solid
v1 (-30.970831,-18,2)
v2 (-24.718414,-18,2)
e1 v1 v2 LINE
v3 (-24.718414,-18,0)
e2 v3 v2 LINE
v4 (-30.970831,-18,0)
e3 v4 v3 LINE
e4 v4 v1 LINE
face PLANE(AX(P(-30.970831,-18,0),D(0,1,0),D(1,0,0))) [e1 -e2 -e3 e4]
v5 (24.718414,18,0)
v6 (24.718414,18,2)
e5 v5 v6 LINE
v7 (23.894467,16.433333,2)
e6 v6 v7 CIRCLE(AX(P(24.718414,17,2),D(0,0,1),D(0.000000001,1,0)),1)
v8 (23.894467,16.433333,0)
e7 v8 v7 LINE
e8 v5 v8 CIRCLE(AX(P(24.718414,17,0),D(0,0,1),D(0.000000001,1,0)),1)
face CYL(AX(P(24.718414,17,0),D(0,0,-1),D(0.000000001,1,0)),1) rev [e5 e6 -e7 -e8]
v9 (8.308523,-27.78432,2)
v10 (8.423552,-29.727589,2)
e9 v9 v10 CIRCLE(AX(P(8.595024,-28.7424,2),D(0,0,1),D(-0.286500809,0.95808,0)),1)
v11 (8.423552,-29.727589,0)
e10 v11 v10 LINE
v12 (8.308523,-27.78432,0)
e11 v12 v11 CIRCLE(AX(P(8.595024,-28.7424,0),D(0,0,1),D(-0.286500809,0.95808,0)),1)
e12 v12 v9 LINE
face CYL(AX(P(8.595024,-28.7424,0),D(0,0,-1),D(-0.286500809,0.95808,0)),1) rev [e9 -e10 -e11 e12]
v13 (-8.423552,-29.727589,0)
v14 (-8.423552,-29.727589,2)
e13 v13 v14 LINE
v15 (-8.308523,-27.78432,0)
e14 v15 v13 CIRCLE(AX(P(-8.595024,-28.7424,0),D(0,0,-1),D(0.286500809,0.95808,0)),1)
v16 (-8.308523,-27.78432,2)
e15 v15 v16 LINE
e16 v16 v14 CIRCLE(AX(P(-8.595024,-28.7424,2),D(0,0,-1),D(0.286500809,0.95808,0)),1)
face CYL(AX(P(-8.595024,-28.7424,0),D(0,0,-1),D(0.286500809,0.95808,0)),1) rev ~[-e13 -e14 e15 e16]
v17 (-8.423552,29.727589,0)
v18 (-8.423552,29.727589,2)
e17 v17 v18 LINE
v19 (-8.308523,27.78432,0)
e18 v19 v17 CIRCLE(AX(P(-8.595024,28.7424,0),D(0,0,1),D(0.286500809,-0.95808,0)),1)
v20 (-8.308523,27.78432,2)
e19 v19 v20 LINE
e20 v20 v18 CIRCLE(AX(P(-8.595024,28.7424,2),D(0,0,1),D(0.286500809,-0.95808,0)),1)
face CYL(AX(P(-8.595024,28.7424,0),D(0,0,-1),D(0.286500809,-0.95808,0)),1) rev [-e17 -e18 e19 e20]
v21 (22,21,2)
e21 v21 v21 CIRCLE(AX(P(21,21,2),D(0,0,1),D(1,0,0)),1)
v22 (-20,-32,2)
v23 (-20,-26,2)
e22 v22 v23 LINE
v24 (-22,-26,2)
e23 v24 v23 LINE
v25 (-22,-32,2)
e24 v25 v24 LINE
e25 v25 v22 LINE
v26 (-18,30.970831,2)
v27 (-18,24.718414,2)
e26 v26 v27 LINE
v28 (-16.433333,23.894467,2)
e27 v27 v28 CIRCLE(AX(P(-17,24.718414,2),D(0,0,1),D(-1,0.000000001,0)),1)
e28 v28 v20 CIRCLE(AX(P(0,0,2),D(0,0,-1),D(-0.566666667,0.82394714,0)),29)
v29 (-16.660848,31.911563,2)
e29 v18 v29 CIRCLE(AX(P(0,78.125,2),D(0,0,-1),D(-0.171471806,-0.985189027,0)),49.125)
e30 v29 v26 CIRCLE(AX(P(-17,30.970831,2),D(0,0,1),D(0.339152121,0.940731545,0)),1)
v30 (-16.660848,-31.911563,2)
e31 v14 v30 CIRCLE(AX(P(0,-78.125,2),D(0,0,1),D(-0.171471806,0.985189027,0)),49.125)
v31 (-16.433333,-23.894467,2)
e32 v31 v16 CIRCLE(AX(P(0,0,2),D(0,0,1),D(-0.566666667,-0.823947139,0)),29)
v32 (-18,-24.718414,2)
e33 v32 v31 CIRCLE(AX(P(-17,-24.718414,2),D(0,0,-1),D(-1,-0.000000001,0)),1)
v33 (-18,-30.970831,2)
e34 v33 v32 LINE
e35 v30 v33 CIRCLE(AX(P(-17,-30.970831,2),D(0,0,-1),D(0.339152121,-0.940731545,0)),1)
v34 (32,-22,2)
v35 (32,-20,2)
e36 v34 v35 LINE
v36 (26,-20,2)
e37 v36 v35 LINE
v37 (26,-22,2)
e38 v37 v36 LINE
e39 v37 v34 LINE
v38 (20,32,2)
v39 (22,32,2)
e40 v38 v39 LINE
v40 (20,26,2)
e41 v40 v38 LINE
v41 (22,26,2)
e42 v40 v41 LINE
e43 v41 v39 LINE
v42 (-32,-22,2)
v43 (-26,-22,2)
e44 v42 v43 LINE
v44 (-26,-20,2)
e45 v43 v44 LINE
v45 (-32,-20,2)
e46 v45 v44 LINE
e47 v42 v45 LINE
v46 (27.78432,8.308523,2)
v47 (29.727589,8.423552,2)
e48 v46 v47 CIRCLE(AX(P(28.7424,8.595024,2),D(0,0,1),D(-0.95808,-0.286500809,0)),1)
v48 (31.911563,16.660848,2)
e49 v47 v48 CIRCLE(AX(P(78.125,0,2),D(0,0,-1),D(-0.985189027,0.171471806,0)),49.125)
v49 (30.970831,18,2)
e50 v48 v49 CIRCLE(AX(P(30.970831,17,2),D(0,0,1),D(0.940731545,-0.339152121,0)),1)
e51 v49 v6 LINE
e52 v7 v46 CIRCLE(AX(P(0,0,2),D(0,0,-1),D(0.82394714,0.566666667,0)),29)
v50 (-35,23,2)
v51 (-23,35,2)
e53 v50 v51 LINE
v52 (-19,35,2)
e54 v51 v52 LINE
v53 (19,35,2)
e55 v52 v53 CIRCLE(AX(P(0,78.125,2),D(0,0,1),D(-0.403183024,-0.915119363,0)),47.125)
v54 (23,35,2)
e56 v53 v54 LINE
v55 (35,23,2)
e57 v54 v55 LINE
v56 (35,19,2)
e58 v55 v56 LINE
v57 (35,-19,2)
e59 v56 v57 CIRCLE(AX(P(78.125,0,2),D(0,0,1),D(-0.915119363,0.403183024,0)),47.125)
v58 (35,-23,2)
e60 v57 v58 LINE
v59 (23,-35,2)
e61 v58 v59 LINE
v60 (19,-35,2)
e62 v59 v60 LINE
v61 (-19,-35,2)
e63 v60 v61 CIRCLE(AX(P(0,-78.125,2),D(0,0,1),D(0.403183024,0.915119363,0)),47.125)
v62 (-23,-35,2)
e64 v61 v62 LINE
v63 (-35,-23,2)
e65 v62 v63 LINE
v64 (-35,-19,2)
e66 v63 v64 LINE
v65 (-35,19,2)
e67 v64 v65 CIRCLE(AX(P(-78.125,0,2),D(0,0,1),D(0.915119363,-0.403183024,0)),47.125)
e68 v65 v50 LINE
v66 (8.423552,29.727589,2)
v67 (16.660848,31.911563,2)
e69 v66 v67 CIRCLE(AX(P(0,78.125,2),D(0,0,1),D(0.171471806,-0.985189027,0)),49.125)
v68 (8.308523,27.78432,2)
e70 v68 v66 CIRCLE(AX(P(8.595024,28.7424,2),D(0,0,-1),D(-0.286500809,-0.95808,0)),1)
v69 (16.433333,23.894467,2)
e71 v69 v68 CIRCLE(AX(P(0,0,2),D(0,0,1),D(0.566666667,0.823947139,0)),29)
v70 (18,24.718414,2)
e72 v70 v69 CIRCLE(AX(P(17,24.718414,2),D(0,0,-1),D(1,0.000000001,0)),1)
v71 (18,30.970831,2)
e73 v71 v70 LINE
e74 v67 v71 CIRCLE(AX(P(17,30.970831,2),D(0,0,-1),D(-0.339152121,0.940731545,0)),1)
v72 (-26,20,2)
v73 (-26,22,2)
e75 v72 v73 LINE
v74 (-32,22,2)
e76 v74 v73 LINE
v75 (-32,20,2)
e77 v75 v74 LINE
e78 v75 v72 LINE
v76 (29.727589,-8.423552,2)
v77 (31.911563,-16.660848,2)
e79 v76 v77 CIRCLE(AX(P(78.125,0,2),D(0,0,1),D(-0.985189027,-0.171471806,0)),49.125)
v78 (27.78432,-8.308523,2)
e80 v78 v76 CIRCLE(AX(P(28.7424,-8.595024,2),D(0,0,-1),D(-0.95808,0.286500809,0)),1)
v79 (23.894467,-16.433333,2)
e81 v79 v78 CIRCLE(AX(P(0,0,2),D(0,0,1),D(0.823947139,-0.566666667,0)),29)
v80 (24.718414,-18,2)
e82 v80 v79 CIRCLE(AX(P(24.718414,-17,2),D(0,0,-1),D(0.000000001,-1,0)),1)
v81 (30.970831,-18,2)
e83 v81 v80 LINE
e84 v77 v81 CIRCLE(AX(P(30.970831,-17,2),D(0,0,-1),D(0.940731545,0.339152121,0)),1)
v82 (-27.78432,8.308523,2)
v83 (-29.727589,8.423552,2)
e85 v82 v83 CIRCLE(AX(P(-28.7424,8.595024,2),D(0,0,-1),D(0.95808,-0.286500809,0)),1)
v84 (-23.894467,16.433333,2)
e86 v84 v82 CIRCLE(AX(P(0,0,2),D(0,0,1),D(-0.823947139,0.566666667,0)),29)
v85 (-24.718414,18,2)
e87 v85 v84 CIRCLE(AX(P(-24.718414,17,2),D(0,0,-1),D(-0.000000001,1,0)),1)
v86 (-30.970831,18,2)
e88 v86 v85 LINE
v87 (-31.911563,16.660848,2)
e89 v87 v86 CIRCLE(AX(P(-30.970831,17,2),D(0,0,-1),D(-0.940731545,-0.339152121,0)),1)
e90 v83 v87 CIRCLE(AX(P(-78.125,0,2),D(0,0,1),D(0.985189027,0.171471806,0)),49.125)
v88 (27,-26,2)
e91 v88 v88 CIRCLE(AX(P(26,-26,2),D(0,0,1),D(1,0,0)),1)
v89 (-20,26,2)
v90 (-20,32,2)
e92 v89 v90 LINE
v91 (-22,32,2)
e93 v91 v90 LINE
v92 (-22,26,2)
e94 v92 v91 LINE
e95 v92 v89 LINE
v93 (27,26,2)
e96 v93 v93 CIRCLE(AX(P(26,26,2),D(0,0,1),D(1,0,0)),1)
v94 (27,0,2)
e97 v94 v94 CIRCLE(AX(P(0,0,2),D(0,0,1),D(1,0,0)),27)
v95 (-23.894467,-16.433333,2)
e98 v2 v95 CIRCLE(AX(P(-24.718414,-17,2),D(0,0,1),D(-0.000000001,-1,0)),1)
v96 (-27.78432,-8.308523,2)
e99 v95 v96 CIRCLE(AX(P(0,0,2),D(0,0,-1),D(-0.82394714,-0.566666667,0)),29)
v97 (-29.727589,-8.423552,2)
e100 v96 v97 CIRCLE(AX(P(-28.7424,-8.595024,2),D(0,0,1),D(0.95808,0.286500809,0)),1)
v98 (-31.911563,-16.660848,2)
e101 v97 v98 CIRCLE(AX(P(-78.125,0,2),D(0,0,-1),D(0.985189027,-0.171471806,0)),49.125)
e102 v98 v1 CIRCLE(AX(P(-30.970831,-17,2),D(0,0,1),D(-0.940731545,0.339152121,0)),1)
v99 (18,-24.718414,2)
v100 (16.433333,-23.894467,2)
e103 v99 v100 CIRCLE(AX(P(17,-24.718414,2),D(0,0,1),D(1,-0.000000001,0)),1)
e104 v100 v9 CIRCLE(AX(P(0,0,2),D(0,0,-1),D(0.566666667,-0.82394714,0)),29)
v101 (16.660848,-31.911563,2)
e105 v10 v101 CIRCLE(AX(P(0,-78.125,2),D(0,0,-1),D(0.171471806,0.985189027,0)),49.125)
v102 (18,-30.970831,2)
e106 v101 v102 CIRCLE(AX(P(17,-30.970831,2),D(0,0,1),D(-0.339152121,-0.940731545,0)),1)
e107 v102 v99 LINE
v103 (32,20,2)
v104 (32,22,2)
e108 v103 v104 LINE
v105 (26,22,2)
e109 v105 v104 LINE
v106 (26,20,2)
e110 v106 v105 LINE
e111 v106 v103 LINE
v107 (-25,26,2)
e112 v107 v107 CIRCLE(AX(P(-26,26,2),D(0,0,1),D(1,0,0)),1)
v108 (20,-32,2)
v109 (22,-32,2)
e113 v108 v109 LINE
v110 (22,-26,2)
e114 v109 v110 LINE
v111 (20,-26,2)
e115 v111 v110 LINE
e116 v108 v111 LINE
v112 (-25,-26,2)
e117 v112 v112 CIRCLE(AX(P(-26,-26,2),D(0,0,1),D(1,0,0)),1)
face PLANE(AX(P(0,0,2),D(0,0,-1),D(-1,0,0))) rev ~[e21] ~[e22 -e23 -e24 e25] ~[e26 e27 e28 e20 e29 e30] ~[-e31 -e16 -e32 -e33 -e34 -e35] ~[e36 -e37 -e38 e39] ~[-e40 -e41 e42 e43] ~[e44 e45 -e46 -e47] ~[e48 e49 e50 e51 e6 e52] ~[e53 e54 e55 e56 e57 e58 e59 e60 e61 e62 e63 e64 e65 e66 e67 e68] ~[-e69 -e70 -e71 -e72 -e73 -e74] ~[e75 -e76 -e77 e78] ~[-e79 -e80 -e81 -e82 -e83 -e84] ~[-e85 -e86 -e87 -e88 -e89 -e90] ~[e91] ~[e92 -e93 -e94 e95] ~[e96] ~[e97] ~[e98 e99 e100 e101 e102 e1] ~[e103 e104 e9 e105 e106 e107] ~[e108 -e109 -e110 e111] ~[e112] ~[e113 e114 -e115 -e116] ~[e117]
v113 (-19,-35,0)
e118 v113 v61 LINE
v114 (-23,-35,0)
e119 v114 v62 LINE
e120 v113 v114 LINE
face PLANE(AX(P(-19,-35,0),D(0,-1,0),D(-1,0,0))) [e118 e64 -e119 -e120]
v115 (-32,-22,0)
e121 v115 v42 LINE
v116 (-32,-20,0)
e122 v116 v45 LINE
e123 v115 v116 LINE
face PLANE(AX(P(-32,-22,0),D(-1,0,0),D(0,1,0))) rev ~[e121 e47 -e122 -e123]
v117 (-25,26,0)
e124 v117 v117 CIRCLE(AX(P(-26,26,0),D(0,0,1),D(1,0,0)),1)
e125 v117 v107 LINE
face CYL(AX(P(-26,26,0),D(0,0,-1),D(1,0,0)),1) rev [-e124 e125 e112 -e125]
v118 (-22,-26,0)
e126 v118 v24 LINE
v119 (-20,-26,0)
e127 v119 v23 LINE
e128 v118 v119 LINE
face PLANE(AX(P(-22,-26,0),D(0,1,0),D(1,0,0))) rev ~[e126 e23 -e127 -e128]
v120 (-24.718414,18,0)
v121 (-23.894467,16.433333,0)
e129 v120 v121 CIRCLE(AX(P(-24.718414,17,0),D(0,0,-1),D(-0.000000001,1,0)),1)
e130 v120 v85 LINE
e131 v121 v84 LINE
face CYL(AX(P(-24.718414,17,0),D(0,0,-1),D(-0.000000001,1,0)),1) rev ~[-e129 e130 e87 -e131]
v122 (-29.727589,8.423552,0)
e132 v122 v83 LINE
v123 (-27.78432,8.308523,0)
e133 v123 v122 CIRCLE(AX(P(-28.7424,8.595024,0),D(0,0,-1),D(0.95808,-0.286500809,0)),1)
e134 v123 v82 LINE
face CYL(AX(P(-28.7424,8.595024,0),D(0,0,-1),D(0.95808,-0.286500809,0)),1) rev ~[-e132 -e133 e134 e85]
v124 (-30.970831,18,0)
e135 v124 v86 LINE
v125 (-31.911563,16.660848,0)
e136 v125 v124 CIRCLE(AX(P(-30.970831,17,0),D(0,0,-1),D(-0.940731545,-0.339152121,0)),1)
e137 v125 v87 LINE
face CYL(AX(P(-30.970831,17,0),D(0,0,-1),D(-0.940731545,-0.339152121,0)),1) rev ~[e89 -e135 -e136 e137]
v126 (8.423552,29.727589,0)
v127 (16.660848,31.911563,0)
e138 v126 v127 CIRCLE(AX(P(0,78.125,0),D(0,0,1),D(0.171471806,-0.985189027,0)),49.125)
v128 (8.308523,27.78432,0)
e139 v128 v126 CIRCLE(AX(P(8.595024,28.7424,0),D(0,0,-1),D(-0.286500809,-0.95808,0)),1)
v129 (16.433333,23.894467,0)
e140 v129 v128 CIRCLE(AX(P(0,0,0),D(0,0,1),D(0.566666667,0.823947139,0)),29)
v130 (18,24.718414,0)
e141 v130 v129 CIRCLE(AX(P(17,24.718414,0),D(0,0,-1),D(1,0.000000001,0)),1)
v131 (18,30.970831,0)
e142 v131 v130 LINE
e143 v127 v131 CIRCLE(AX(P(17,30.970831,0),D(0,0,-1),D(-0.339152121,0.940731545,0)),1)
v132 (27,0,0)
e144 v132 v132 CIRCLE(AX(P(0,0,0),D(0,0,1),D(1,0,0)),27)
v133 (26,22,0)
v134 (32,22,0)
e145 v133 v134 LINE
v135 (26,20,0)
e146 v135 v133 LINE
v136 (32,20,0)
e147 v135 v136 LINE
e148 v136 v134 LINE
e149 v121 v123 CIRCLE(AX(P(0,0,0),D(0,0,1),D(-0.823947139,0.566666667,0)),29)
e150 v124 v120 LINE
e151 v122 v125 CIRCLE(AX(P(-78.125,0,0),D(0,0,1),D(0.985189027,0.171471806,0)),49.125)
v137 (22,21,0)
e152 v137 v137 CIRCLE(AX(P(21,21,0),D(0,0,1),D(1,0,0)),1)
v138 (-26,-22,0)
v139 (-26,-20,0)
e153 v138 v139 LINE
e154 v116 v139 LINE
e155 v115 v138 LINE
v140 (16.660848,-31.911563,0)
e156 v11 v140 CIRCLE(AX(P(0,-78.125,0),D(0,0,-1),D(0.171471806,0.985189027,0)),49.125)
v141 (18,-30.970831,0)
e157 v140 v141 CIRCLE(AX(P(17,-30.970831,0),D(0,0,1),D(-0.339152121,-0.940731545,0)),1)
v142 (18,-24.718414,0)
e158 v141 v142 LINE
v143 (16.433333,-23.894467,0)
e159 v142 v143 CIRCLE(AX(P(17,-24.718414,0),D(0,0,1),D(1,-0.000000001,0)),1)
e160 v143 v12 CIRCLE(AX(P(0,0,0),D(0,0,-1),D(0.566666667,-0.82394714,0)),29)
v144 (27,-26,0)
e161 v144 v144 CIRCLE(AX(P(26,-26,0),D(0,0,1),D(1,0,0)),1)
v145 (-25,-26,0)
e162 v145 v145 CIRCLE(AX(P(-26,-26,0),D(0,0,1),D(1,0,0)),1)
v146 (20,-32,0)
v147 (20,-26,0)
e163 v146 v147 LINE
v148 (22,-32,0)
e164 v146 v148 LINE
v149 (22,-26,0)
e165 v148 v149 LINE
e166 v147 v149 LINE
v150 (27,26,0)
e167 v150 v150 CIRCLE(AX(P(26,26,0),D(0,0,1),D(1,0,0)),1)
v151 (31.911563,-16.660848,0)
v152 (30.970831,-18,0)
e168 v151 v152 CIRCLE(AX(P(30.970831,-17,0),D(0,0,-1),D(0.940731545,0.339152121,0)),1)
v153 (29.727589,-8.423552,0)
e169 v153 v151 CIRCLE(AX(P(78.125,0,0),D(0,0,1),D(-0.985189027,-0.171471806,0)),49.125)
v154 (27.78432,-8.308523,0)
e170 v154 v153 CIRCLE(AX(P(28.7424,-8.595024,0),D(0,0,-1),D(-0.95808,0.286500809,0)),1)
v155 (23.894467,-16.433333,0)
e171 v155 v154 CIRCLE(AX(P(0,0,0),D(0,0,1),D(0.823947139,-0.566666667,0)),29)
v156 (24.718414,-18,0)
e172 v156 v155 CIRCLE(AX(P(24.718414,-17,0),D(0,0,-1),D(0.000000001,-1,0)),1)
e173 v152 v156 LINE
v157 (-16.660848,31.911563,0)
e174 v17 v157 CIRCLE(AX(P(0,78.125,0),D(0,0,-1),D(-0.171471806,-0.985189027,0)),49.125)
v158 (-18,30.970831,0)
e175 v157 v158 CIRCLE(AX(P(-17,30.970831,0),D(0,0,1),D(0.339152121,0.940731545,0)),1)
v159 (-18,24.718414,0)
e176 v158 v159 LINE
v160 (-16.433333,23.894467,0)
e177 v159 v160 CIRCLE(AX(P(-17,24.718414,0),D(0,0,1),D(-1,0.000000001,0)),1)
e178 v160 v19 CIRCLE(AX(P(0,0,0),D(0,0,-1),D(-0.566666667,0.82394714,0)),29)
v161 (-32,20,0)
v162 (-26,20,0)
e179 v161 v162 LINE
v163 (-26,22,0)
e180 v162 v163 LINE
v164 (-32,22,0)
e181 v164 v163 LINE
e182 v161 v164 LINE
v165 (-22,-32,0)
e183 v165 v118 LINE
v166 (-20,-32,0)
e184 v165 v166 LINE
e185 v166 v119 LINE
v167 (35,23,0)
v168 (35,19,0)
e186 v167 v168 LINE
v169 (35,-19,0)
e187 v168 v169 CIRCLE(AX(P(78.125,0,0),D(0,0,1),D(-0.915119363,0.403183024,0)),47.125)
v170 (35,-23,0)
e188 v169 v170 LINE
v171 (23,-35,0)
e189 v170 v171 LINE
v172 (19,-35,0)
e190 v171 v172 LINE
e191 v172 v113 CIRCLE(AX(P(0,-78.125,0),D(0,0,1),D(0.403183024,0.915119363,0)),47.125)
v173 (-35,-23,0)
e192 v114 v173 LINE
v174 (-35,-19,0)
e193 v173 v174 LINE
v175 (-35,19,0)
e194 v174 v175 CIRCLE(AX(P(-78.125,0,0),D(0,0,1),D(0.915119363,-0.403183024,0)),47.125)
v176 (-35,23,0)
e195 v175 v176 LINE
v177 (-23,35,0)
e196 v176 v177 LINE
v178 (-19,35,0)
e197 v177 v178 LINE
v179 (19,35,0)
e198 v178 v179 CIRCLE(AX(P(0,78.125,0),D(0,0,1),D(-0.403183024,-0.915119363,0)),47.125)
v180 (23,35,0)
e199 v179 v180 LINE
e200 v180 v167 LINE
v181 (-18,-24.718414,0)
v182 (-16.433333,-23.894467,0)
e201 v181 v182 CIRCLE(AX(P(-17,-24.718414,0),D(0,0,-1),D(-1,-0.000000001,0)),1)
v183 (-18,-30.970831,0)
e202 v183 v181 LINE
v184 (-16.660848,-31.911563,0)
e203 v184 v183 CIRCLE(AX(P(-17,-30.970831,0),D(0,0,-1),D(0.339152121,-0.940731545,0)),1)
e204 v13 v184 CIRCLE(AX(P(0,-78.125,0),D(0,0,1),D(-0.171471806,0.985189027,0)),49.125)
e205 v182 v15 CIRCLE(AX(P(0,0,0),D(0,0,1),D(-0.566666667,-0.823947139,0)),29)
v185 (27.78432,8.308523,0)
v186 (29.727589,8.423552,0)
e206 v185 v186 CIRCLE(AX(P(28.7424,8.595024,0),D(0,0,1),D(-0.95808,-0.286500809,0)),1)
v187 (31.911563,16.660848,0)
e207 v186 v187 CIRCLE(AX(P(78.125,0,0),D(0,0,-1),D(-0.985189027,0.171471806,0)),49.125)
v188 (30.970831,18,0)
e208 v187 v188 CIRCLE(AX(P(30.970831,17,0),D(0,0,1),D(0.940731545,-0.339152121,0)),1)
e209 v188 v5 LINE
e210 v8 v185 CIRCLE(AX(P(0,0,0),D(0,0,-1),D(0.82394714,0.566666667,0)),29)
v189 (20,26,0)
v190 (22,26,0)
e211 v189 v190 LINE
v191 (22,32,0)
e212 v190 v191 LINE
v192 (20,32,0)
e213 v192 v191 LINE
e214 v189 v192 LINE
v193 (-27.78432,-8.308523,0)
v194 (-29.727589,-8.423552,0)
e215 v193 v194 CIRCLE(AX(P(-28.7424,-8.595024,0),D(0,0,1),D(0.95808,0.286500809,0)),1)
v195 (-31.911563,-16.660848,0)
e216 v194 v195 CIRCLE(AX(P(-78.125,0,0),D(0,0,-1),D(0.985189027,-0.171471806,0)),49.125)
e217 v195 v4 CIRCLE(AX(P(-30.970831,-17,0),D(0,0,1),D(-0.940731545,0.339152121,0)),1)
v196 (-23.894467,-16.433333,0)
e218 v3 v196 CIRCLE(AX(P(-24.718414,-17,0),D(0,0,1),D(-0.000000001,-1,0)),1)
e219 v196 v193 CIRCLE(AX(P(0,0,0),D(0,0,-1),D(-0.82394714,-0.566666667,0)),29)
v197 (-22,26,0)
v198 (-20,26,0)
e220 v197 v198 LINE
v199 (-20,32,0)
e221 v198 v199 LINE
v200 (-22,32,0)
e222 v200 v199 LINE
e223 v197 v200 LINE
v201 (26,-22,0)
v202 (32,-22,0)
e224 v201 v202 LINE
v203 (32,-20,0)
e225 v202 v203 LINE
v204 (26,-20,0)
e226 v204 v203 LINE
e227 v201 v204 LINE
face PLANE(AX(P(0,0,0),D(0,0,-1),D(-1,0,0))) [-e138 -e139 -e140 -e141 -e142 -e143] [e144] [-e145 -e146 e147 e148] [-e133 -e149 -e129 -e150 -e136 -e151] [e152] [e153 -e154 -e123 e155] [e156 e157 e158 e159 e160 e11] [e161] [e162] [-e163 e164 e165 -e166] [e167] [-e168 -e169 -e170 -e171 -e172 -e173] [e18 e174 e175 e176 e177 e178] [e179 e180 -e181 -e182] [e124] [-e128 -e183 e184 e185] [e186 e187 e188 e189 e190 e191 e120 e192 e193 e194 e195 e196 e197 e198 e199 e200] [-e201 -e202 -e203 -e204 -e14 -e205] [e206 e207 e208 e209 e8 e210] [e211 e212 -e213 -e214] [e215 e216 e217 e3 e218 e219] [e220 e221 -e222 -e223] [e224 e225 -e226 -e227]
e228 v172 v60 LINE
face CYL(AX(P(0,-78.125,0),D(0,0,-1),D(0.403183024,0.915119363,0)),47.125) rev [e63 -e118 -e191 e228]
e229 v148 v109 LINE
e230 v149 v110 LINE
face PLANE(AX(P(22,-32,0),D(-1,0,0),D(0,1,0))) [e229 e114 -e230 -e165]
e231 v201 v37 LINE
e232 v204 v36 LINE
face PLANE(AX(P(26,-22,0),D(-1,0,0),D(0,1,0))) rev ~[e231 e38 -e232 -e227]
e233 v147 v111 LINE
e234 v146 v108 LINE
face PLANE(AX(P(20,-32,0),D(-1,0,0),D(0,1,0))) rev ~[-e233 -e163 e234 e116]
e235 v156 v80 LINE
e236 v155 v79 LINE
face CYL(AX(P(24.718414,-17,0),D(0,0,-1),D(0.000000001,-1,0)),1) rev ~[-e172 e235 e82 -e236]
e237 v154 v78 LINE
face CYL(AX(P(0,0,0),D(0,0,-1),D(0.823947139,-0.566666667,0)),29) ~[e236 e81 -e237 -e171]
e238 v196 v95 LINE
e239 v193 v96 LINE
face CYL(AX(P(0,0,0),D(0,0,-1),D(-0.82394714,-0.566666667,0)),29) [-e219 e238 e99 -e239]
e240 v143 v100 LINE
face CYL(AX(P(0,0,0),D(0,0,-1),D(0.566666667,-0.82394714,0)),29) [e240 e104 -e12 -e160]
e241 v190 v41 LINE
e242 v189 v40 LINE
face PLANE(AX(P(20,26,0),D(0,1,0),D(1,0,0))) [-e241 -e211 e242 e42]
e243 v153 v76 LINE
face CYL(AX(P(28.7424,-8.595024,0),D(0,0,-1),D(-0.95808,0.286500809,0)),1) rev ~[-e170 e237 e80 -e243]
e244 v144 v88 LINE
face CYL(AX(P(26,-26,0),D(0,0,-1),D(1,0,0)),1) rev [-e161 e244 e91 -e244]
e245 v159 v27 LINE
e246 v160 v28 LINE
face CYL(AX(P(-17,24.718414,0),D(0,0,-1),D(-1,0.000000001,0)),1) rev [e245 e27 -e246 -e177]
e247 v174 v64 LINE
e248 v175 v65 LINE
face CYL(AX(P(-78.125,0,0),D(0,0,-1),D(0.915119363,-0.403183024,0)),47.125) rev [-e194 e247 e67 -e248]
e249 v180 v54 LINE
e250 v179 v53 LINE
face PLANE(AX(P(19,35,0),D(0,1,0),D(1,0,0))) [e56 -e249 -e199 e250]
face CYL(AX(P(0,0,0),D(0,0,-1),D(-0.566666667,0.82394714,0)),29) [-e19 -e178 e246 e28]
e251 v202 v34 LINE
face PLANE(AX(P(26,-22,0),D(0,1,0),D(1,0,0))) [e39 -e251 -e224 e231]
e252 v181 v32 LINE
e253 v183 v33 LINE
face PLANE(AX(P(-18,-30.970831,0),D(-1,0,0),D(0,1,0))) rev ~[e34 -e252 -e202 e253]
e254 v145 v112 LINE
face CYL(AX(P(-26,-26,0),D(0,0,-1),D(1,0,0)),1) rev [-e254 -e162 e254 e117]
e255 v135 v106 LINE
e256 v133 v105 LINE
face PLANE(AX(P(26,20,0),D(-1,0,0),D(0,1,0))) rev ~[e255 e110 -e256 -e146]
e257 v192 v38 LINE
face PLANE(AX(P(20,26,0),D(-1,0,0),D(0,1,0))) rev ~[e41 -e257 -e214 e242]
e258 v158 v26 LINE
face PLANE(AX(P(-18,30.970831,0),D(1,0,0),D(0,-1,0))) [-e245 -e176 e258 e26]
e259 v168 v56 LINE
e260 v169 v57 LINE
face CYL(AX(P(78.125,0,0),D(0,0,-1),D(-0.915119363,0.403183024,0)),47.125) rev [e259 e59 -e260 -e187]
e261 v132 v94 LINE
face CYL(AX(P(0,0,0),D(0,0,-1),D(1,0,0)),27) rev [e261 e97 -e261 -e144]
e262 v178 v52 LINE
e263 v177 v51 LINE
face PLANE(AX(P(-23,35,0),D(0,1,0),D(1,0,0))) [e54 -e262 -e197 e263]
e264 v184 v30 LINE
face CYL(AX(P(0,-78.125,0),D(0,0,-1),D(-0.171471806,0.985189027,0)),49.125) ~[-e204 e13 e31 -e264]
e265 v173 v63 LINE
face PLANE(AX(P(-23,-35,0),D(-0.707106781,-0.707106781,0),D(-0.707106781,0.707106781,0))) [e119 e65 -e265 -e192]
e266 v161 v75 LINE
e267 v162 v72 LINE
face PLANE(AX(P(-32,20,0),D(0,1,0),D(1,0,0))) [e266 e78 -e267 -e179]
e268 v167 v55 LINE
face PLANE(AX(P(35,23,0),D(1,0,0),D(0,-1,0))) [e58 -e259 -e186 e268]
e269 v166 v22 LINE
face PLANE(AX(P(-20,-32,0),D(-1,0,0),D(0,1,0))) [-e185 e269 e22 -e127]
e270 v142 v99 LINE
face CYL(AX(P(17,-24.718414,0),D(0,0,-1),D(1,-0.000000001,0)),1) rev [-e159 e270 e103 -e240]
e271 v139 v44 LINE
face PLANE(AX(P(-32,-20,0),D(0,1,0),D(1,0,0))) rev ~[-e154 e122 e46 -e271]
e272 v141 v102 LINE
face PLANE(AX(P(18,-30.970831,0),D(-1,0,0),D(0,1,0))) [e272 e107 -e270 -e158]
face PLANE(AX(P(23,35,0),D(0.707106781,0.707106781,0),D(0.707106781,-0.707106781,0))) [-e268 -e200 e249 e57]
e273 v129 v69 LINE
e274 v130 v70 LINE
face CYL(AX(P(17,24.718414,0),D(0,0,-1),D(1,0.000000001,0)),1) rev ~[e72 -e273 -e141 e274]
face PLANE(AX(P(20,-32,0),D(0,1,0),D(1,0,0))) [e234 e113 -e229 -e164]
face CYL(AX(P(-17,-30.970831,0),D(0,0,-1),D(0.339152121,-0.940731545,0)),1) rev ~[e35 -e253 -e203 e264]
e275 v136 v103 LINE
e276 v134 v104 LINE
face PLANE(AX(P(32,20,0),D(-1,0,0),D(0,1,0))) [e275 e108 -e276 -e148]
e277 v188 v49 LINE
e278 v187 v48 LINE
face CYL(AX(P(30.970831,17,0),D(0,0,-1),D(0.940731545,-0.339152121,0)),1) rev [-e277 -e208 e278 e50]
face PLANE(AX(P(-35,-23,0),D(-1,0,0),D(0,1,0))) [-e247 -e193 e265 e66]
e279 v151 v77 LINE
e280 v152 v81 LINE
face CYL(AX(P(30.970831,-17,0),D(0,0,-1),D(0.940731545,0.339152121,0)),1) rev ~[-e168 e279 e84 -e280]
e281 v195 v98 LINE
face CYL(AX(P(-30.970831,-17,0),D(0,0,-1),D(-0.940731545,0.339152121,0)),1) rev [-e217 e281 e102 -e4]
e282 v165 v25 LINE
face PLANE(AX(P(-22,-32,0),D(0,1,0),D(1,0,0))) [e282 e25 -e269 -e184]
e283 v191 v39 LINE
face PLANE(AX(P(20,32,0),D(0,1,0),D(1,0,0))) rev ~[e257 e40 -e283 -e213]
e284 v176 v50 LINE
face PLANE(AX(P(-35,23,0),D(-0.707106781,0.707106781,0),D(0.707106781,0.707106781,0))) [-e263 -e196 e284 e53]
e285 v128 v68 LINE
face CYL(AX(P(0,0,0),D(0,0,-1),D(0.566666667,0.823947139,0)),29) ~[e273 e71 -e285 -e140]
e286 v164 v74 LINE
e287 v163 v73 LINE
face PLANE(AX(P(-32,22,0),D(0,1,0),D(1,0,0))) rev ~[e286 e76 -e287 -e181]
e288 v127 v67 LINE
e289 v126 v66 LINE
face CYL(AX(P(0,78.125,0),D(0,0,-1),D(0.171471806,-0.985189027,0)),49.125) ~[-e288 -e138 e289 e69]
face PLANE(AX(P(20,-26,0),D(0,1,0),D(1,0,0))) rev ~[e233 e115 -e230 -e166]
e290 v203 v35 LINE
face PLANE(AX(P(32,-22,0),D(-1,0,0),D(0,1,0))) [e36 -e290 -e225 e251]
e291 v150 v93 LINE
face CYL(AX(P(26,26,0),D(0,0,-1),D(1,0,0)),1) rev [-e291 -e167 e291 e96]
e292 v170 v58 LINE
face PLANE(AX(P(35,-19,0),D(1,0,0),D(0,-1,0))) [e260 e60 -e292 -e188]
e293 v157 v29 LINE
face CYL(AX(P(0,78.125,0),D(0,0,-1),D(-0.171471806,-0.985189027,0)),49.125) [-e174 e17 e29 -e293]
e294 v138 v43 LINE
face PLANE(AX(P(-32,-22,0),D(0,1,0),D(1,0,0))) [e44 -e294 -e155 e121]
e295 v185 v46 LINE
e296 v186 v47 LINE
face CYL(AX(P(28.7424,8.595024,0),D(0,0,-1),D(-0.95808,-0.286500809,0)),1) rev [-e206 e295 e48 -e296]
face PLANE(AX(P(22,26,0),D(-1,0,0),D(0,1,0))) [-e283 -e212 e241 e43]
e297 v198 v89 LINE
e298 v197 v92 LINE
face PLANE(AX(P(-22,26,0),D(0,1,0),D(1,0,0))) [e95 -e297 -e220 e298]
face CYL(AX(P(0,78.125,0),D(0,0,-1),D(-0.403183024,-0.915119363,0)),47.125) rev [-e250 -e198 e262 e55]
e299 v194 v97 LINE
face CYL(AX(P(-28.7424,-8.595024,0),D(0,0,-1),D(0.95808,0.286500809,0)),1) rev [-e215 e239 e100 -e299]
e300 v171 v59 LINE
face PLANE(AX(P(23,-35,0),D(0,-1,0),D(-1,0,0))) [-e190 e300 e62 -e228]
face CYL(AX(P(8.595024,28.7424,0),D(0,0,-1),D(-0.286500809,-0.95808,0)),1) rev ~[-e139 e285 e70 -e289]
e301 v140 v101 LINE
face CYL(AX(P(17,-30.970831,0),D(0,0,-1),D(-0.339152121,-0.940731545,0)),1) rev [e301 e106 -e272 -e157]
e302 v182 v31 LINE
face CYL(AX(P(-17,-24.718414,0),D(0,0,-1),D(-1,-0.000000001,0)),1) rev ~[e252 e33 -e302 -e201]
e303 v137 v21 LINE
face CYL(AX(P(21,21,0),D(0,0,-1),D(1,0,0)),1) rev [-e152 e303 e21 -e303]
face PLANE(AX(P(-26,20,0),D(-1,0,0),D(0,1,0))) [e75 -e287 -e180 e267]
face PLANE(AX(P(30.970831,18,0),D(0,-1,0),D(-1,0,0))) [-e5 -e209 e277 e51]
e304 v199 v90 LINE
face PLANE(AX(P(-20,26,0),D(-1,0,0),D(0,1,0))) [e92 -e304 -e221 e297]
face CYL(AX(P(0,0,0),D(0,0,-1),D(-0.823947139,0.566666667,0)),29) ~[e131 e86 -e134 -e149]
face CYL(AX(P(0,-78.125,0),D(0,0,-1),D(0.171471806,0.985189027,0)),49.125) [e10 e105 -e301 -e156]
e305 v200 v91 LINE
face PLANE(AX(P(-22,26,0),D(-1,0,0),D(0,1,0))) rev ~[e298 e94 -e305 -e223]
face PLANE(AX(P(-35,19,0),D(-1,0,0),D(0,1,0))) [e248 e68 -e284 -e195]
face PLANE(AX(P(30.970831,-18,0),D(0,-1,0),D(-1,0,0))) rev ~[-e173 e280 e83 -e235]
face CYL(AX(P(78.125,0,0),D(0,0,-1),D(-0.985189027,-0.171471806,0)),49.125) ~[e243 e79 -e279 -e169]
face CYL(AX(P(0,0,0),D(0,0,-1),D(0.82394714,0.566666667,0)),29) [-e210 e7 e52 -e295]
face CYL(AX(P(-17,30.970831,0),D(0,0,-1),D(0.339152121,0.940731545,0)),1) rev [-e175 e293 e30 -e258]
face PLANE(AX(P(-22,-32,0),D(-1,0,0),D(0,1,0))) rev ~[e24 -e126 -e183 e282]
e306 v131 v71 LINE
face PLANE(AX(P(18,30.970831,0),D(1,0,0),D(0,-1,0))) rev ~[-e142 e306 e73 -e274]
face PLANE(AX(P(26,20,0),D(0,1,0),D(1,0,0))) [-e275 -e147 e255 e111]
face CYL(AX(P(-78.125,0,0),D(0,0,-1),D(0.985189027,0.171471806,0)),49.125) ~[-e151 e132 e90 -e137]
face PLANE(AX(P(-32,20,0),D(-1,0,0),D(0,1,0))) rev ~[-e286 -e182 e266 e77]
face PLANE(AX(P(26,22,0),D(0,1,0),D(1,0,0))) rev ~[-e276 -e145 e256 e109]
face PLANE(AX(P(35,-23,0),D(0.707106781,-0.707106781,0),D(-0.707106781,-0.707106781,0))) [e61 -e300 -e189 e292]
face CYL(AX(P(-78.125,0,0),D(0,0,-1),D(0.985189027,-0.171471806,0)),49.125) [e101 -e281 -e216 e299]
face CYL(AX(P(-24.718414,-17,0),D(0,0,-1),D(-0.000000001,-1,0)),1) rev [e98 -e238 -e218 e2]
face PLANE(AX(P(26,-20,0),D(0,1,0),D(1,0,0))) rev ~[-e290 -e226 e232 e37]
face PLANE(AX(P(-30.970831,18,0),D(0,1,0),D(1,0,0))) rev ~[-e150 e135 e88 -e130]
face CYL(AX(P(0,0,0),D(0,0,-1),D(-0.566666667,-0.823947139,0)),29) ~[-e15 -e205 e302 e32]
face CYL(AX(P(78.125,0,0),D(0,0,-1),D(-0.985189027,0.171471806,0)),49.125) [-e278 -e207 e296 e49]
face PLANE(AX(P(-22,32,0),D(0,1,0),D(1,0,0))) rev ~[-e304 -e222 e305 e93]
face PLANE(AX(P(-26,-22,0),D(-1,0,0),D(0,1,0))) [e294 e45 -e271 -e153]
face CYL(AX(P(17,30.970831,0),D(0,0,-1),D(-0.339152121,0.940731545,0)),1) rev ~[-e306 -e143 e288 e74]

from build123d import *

# Parameters (mm, degrees)
SKETCH1_R           = 27
SKETCH1_R_2         = 1
SKETCH1_W           = 2
SKETCH1_H           = 6
SKETCH1_W_2         = 6
SKETCH1_H_2         = 2
BOSS_EXTRUDE1_DEPTH = 2


with BuildPart() as part:
    # Sketch1 → Boss-Extrude1 (new body)
    with BuildSketch(Plane.XY):
        with BuildLine():
            Line((23, 35), (35, 23))
            Line((35, 23), (35, 19))
            ThreePointArc((35, 19), (31, 0), (35, -19))
            Line((35, -19), (35, -23))
            Line((35, -23), (23, -35))
            Line((23, -35), (19, -35))
            ThreePointArc((19, -35), (0, -31), (-19, -35))
            Line((-19, -35), (-23, -35))
            Line((-23, -35), (-35, -23))
            Line((-35, -23), (-35, -19))
            ThreePointArc((-35, -19), (-31, 0), (-35, 19))
            Line((-35, 19), (-35, 23))
            Line((-35, 23), (-23, 35))
            Line((-23, 35), (-19, 35))
            ThreePointArc((-19, 35), (0, 31), (19, 35))
            Line((19, 35), (23, 35))
        make_face()
        Circle(SKETCH1_R, mode=Mode.SUBTRACT)
        with Locations((26, 26)):
            Circle(SKETCH1_R_2, mode=Mode.SUBTRACT)
        with Locations((21, 21)):
            Circle(SKETCH1_R_2, mode=Mode.SUBTRACT)
        with Locations((26, -26)):
            Circle(SKETCH1_R_2, mode=Mode.SUBTRACT)
        with Locations((-26, -26)):
            Circle(SKETCH1_R_2, mode=Mode.SUBTRACT)
        with Locations((-26, 26)):
            Circle(SKETCH1_R_2, mode=Mode.SUBTRACT)
        with BuildLine():
            Line((18, 30.970831308), (18, 24.718414189))
            ThreePointArc((18, 24.718414189), (17.465474668, 23.833352985), (16.433333333, 23.894467049))
            ThreePointArc((16.433333333, 23.894467049), (12.522883391, 26.15678481), (8.308523463, 27.78432))
            ThreePointArc((8.308523463, 27.78432), (7.59677162, 28.801490124), (8.423552466, 29.727589027))
            ThreePointArc((8.423552466, 29.727589027), (12.589647358, 30.640619364), (16.66084788, 31.911562853))
            ThreePointArc((16.66084788, 31.911562853), (17.574825139, 31.789107582), (18, 30.970831308))
        make_face(mode=Mode.SUBTRACT)
        with BuildLine():
            Line((-18, 30.970831308), (-18, 24.718414189))
            ThreePointArc((-18, 24.718414189), (-17.465474668, 23.833352985), (-16.433333333, 23.894467049))
            ThreePointArc((-16.433333333, 23.894467049), (-12.522883391, 26.156784809), (-8.308523463, 27.78432))
            ThreePointArc((-8.308523463, 27.78432), (-7.59677162, 28.801490124), (-8.423552466, 29.727589027))
            ThreePointArc((-8.423552466, 29.727589027), (-12.589647358, 30.640619364), (-16.66084788, 31.911562853))
            ThreePointArc((-16.66084788, 31.911562853), (-17.574825139, 31.789107582), (-18, 30.970831308))
        make_face(mode=Mode.SUBTRACT)
        with Locations((-21, 29)):
            Rectangle(SKETCH1_W, SKETCH1_H, mode=Mode.SUBTRACT)
        with Locations((21, 29)):
            Rectangle(SKETCH1_W, SKETCH1_H, mode=Mode.SUBTRACT)
        with Locations((29, 21)):
            Rectangle(SKETCH1_W_2, SKETCH1_H_2, mode=Mode.SUBTRACT)
        with Locations((29, -21)):
            Rectangle(SKETCH1_W_2, SKETCH1_H_2, mode=Mode.SUBTRACT)
        with BuildLine():
            Line((30.970831308, 18), (24.718414189, 18))
            ThreePointArc((24.718414189, 18), (23.833352985, 17.465474668), (23.894467049, 16.433333333))
            ThreePointArc((23.894467049, 16.433333333), (26.156784809, 12.522883391), (27.78432, 8.308523463))
            ThreePointArc((27.78432, 8.308523463), (28.801490124, 7.59677162), (29.727589027, 8.423552466))
            ThreePointArc((29.727589027, 8.423552466), (30.640619364, 12.589647358), (31.911562853, 16.66084788))
            ThreePointArc((31.911562853, 16.66084788), (31.789107582, 17.574825139), (30.970831308, 18))
        make_face(mode=Mode.SUBTRACT)
        with BuildLine():
            Line((30.970831308, -18), (24.718414189, -18))
            ThreePointArc((24.718414189, -18), (23.833352985, -17.465474668), (23.894467049, -16.433333333))
            ThreePointArc((23.894467049, -16.433333333), (26.15678481, -12.522883391), (27.78432, -8.308523463))
            ThreePointArc((27.78432, -8.308523463), (28.801490124, -7.59677162), (29.727589027, -8.423552466))
            ThreePointArc((29.727589027, -8.423552466), (30.640619364, -12.589647358), (31.911562853, -16.66084788))
            ThreePointArc((31.911562853, -16.66084788), (31.789107582, -17.574825139), (30.970831308, -18))
        make_face(mode=Mode.SUBTRACT)
        with Locations((21, -29)):
            Rectangle(SKETCH1_W, SKETCH1_H, mode=Mode.SUBTRACT)
        with Locations((-21, -29)):
            Rectangle(SKETCH1_W, SKETCH1_H, mode=Mode.SUBTRACT)
        with BuildLine():
            Line((18, -30.970831308), (18, -24.718414189))
            ThreePointArc((18, -24.718414189), (17.465474668, -23.833352985), (16.433333333, -23.894467049))
            ThreePointArc((16.433333333, -23.894467049), (12.522883391, -26.156784809), (8.308523463, -27.78432))
            ThreePointArc((8.308523463, -27.78432), (7.59677162, -28.801490124), (8.423552466, -29.727589027))
            ThreePointArc((8.423552466, -29.727589027), (12.589647358, -30.640619364), (16.66084788, -31.911562853))
            ThreePointArc((16.66084788, -31.911562853), (17.574825139, -31.789107582), (18, -30.970831308))
        make_face(mode=Mode.SUBTRACT)
        with BuildLine():
            Line((-18, -30.970831308), (-18, -24.718414189))
            ThreePointArc((-18, -24.718414189), (-17.465474668, -23.833352985), (-16.433333333, -23.894467049))
            ThreePointArc((-16.433333333, -23.894467049), (-12.522883391, -26.15678481), (-8.308523463, -27.78432))
            ThreePointArc((-8.308523463, -27.78432), (-7.59677162, -28.801490124), (-8.423552466, -29.727589027))
            ThreePointArc((-8.423552466, -29.727589027), (-12.589647358, -30.640619364), (-16.66084788, -31.911562853))
            ThreePointArc((-16.66084788, -31.911562853), (-17.574825139, -31.789107582), (-18, -30.970831308))
        make_face(mode=Mode.SUBTRACT)
        with Locations((-29, -21)):
            Rectangle(SKETCH1_W_2, SKETCH1_H_2, mode=Mode.SUBTRACT)
        with Locations((-29, 21)):
            Rectangle(SKETCH1_W_2, SKETCH1_H_2, mode=Mode.SUBTRACT)
        with BuildLine():
            Line((-30.970831308, -18), (-24.718414189, -18))
            ThreePointArc((-24.718414189, -18), (-23.833352985, -17.465474668), (-23.894467049, -16.433333333))
            ThreePointArc((-23.894467049, -16.433333333), (-26.156784809, -12.522883391), (-27.78432, -8.308523463))
            ThreePointArc((-27.78432, -8.308523463), (-28.801490124, -7.59677162), (-29.727589027, -8.423552466))
            ThreePointArc((-29.727589027, -8.423552466), (-30.640619364, -12.589647358), (-31.911562853, -16.66084788))
            ThreePointArc((-31.911562853, -16.66084788), (-31.789107582, -17.574825139), (-30.970831308, -18))
        make_face(mode=Mode.SUBTRACT)
        with BuildLine():
            Line((-30.970831308, 18), (-24.718414189, 18))
            ThreePointArc((-24.718414189, 18), (-23.833352985, 17.465474668), (-23.894467049, 16.433333333))
            ThreePointArc((-23.894467049, 16.433333333), (-26.15678481, 12.522883391), (-27.78432, 8.308523463))
            ThreePointArc((-27.78432, 8.308523463), (-28.801490124, 7.59677162), (-29.727589027, 8.423552466))
            ThreePointArc((-29.727589027, 8.423552466), (-30.640619364, 12.589647358), (-31.911562853, 16.66084788))
            ThreePointArc((-31.911562853, 16.66084788), (-31.789107582, 17.574825139), (-30.970831308, 18))
        make_face(mode=Mode.SUBTRACT)
    extrude(amount=BOSS_EXTRUDE1_DEPTH)


solid = part.part
